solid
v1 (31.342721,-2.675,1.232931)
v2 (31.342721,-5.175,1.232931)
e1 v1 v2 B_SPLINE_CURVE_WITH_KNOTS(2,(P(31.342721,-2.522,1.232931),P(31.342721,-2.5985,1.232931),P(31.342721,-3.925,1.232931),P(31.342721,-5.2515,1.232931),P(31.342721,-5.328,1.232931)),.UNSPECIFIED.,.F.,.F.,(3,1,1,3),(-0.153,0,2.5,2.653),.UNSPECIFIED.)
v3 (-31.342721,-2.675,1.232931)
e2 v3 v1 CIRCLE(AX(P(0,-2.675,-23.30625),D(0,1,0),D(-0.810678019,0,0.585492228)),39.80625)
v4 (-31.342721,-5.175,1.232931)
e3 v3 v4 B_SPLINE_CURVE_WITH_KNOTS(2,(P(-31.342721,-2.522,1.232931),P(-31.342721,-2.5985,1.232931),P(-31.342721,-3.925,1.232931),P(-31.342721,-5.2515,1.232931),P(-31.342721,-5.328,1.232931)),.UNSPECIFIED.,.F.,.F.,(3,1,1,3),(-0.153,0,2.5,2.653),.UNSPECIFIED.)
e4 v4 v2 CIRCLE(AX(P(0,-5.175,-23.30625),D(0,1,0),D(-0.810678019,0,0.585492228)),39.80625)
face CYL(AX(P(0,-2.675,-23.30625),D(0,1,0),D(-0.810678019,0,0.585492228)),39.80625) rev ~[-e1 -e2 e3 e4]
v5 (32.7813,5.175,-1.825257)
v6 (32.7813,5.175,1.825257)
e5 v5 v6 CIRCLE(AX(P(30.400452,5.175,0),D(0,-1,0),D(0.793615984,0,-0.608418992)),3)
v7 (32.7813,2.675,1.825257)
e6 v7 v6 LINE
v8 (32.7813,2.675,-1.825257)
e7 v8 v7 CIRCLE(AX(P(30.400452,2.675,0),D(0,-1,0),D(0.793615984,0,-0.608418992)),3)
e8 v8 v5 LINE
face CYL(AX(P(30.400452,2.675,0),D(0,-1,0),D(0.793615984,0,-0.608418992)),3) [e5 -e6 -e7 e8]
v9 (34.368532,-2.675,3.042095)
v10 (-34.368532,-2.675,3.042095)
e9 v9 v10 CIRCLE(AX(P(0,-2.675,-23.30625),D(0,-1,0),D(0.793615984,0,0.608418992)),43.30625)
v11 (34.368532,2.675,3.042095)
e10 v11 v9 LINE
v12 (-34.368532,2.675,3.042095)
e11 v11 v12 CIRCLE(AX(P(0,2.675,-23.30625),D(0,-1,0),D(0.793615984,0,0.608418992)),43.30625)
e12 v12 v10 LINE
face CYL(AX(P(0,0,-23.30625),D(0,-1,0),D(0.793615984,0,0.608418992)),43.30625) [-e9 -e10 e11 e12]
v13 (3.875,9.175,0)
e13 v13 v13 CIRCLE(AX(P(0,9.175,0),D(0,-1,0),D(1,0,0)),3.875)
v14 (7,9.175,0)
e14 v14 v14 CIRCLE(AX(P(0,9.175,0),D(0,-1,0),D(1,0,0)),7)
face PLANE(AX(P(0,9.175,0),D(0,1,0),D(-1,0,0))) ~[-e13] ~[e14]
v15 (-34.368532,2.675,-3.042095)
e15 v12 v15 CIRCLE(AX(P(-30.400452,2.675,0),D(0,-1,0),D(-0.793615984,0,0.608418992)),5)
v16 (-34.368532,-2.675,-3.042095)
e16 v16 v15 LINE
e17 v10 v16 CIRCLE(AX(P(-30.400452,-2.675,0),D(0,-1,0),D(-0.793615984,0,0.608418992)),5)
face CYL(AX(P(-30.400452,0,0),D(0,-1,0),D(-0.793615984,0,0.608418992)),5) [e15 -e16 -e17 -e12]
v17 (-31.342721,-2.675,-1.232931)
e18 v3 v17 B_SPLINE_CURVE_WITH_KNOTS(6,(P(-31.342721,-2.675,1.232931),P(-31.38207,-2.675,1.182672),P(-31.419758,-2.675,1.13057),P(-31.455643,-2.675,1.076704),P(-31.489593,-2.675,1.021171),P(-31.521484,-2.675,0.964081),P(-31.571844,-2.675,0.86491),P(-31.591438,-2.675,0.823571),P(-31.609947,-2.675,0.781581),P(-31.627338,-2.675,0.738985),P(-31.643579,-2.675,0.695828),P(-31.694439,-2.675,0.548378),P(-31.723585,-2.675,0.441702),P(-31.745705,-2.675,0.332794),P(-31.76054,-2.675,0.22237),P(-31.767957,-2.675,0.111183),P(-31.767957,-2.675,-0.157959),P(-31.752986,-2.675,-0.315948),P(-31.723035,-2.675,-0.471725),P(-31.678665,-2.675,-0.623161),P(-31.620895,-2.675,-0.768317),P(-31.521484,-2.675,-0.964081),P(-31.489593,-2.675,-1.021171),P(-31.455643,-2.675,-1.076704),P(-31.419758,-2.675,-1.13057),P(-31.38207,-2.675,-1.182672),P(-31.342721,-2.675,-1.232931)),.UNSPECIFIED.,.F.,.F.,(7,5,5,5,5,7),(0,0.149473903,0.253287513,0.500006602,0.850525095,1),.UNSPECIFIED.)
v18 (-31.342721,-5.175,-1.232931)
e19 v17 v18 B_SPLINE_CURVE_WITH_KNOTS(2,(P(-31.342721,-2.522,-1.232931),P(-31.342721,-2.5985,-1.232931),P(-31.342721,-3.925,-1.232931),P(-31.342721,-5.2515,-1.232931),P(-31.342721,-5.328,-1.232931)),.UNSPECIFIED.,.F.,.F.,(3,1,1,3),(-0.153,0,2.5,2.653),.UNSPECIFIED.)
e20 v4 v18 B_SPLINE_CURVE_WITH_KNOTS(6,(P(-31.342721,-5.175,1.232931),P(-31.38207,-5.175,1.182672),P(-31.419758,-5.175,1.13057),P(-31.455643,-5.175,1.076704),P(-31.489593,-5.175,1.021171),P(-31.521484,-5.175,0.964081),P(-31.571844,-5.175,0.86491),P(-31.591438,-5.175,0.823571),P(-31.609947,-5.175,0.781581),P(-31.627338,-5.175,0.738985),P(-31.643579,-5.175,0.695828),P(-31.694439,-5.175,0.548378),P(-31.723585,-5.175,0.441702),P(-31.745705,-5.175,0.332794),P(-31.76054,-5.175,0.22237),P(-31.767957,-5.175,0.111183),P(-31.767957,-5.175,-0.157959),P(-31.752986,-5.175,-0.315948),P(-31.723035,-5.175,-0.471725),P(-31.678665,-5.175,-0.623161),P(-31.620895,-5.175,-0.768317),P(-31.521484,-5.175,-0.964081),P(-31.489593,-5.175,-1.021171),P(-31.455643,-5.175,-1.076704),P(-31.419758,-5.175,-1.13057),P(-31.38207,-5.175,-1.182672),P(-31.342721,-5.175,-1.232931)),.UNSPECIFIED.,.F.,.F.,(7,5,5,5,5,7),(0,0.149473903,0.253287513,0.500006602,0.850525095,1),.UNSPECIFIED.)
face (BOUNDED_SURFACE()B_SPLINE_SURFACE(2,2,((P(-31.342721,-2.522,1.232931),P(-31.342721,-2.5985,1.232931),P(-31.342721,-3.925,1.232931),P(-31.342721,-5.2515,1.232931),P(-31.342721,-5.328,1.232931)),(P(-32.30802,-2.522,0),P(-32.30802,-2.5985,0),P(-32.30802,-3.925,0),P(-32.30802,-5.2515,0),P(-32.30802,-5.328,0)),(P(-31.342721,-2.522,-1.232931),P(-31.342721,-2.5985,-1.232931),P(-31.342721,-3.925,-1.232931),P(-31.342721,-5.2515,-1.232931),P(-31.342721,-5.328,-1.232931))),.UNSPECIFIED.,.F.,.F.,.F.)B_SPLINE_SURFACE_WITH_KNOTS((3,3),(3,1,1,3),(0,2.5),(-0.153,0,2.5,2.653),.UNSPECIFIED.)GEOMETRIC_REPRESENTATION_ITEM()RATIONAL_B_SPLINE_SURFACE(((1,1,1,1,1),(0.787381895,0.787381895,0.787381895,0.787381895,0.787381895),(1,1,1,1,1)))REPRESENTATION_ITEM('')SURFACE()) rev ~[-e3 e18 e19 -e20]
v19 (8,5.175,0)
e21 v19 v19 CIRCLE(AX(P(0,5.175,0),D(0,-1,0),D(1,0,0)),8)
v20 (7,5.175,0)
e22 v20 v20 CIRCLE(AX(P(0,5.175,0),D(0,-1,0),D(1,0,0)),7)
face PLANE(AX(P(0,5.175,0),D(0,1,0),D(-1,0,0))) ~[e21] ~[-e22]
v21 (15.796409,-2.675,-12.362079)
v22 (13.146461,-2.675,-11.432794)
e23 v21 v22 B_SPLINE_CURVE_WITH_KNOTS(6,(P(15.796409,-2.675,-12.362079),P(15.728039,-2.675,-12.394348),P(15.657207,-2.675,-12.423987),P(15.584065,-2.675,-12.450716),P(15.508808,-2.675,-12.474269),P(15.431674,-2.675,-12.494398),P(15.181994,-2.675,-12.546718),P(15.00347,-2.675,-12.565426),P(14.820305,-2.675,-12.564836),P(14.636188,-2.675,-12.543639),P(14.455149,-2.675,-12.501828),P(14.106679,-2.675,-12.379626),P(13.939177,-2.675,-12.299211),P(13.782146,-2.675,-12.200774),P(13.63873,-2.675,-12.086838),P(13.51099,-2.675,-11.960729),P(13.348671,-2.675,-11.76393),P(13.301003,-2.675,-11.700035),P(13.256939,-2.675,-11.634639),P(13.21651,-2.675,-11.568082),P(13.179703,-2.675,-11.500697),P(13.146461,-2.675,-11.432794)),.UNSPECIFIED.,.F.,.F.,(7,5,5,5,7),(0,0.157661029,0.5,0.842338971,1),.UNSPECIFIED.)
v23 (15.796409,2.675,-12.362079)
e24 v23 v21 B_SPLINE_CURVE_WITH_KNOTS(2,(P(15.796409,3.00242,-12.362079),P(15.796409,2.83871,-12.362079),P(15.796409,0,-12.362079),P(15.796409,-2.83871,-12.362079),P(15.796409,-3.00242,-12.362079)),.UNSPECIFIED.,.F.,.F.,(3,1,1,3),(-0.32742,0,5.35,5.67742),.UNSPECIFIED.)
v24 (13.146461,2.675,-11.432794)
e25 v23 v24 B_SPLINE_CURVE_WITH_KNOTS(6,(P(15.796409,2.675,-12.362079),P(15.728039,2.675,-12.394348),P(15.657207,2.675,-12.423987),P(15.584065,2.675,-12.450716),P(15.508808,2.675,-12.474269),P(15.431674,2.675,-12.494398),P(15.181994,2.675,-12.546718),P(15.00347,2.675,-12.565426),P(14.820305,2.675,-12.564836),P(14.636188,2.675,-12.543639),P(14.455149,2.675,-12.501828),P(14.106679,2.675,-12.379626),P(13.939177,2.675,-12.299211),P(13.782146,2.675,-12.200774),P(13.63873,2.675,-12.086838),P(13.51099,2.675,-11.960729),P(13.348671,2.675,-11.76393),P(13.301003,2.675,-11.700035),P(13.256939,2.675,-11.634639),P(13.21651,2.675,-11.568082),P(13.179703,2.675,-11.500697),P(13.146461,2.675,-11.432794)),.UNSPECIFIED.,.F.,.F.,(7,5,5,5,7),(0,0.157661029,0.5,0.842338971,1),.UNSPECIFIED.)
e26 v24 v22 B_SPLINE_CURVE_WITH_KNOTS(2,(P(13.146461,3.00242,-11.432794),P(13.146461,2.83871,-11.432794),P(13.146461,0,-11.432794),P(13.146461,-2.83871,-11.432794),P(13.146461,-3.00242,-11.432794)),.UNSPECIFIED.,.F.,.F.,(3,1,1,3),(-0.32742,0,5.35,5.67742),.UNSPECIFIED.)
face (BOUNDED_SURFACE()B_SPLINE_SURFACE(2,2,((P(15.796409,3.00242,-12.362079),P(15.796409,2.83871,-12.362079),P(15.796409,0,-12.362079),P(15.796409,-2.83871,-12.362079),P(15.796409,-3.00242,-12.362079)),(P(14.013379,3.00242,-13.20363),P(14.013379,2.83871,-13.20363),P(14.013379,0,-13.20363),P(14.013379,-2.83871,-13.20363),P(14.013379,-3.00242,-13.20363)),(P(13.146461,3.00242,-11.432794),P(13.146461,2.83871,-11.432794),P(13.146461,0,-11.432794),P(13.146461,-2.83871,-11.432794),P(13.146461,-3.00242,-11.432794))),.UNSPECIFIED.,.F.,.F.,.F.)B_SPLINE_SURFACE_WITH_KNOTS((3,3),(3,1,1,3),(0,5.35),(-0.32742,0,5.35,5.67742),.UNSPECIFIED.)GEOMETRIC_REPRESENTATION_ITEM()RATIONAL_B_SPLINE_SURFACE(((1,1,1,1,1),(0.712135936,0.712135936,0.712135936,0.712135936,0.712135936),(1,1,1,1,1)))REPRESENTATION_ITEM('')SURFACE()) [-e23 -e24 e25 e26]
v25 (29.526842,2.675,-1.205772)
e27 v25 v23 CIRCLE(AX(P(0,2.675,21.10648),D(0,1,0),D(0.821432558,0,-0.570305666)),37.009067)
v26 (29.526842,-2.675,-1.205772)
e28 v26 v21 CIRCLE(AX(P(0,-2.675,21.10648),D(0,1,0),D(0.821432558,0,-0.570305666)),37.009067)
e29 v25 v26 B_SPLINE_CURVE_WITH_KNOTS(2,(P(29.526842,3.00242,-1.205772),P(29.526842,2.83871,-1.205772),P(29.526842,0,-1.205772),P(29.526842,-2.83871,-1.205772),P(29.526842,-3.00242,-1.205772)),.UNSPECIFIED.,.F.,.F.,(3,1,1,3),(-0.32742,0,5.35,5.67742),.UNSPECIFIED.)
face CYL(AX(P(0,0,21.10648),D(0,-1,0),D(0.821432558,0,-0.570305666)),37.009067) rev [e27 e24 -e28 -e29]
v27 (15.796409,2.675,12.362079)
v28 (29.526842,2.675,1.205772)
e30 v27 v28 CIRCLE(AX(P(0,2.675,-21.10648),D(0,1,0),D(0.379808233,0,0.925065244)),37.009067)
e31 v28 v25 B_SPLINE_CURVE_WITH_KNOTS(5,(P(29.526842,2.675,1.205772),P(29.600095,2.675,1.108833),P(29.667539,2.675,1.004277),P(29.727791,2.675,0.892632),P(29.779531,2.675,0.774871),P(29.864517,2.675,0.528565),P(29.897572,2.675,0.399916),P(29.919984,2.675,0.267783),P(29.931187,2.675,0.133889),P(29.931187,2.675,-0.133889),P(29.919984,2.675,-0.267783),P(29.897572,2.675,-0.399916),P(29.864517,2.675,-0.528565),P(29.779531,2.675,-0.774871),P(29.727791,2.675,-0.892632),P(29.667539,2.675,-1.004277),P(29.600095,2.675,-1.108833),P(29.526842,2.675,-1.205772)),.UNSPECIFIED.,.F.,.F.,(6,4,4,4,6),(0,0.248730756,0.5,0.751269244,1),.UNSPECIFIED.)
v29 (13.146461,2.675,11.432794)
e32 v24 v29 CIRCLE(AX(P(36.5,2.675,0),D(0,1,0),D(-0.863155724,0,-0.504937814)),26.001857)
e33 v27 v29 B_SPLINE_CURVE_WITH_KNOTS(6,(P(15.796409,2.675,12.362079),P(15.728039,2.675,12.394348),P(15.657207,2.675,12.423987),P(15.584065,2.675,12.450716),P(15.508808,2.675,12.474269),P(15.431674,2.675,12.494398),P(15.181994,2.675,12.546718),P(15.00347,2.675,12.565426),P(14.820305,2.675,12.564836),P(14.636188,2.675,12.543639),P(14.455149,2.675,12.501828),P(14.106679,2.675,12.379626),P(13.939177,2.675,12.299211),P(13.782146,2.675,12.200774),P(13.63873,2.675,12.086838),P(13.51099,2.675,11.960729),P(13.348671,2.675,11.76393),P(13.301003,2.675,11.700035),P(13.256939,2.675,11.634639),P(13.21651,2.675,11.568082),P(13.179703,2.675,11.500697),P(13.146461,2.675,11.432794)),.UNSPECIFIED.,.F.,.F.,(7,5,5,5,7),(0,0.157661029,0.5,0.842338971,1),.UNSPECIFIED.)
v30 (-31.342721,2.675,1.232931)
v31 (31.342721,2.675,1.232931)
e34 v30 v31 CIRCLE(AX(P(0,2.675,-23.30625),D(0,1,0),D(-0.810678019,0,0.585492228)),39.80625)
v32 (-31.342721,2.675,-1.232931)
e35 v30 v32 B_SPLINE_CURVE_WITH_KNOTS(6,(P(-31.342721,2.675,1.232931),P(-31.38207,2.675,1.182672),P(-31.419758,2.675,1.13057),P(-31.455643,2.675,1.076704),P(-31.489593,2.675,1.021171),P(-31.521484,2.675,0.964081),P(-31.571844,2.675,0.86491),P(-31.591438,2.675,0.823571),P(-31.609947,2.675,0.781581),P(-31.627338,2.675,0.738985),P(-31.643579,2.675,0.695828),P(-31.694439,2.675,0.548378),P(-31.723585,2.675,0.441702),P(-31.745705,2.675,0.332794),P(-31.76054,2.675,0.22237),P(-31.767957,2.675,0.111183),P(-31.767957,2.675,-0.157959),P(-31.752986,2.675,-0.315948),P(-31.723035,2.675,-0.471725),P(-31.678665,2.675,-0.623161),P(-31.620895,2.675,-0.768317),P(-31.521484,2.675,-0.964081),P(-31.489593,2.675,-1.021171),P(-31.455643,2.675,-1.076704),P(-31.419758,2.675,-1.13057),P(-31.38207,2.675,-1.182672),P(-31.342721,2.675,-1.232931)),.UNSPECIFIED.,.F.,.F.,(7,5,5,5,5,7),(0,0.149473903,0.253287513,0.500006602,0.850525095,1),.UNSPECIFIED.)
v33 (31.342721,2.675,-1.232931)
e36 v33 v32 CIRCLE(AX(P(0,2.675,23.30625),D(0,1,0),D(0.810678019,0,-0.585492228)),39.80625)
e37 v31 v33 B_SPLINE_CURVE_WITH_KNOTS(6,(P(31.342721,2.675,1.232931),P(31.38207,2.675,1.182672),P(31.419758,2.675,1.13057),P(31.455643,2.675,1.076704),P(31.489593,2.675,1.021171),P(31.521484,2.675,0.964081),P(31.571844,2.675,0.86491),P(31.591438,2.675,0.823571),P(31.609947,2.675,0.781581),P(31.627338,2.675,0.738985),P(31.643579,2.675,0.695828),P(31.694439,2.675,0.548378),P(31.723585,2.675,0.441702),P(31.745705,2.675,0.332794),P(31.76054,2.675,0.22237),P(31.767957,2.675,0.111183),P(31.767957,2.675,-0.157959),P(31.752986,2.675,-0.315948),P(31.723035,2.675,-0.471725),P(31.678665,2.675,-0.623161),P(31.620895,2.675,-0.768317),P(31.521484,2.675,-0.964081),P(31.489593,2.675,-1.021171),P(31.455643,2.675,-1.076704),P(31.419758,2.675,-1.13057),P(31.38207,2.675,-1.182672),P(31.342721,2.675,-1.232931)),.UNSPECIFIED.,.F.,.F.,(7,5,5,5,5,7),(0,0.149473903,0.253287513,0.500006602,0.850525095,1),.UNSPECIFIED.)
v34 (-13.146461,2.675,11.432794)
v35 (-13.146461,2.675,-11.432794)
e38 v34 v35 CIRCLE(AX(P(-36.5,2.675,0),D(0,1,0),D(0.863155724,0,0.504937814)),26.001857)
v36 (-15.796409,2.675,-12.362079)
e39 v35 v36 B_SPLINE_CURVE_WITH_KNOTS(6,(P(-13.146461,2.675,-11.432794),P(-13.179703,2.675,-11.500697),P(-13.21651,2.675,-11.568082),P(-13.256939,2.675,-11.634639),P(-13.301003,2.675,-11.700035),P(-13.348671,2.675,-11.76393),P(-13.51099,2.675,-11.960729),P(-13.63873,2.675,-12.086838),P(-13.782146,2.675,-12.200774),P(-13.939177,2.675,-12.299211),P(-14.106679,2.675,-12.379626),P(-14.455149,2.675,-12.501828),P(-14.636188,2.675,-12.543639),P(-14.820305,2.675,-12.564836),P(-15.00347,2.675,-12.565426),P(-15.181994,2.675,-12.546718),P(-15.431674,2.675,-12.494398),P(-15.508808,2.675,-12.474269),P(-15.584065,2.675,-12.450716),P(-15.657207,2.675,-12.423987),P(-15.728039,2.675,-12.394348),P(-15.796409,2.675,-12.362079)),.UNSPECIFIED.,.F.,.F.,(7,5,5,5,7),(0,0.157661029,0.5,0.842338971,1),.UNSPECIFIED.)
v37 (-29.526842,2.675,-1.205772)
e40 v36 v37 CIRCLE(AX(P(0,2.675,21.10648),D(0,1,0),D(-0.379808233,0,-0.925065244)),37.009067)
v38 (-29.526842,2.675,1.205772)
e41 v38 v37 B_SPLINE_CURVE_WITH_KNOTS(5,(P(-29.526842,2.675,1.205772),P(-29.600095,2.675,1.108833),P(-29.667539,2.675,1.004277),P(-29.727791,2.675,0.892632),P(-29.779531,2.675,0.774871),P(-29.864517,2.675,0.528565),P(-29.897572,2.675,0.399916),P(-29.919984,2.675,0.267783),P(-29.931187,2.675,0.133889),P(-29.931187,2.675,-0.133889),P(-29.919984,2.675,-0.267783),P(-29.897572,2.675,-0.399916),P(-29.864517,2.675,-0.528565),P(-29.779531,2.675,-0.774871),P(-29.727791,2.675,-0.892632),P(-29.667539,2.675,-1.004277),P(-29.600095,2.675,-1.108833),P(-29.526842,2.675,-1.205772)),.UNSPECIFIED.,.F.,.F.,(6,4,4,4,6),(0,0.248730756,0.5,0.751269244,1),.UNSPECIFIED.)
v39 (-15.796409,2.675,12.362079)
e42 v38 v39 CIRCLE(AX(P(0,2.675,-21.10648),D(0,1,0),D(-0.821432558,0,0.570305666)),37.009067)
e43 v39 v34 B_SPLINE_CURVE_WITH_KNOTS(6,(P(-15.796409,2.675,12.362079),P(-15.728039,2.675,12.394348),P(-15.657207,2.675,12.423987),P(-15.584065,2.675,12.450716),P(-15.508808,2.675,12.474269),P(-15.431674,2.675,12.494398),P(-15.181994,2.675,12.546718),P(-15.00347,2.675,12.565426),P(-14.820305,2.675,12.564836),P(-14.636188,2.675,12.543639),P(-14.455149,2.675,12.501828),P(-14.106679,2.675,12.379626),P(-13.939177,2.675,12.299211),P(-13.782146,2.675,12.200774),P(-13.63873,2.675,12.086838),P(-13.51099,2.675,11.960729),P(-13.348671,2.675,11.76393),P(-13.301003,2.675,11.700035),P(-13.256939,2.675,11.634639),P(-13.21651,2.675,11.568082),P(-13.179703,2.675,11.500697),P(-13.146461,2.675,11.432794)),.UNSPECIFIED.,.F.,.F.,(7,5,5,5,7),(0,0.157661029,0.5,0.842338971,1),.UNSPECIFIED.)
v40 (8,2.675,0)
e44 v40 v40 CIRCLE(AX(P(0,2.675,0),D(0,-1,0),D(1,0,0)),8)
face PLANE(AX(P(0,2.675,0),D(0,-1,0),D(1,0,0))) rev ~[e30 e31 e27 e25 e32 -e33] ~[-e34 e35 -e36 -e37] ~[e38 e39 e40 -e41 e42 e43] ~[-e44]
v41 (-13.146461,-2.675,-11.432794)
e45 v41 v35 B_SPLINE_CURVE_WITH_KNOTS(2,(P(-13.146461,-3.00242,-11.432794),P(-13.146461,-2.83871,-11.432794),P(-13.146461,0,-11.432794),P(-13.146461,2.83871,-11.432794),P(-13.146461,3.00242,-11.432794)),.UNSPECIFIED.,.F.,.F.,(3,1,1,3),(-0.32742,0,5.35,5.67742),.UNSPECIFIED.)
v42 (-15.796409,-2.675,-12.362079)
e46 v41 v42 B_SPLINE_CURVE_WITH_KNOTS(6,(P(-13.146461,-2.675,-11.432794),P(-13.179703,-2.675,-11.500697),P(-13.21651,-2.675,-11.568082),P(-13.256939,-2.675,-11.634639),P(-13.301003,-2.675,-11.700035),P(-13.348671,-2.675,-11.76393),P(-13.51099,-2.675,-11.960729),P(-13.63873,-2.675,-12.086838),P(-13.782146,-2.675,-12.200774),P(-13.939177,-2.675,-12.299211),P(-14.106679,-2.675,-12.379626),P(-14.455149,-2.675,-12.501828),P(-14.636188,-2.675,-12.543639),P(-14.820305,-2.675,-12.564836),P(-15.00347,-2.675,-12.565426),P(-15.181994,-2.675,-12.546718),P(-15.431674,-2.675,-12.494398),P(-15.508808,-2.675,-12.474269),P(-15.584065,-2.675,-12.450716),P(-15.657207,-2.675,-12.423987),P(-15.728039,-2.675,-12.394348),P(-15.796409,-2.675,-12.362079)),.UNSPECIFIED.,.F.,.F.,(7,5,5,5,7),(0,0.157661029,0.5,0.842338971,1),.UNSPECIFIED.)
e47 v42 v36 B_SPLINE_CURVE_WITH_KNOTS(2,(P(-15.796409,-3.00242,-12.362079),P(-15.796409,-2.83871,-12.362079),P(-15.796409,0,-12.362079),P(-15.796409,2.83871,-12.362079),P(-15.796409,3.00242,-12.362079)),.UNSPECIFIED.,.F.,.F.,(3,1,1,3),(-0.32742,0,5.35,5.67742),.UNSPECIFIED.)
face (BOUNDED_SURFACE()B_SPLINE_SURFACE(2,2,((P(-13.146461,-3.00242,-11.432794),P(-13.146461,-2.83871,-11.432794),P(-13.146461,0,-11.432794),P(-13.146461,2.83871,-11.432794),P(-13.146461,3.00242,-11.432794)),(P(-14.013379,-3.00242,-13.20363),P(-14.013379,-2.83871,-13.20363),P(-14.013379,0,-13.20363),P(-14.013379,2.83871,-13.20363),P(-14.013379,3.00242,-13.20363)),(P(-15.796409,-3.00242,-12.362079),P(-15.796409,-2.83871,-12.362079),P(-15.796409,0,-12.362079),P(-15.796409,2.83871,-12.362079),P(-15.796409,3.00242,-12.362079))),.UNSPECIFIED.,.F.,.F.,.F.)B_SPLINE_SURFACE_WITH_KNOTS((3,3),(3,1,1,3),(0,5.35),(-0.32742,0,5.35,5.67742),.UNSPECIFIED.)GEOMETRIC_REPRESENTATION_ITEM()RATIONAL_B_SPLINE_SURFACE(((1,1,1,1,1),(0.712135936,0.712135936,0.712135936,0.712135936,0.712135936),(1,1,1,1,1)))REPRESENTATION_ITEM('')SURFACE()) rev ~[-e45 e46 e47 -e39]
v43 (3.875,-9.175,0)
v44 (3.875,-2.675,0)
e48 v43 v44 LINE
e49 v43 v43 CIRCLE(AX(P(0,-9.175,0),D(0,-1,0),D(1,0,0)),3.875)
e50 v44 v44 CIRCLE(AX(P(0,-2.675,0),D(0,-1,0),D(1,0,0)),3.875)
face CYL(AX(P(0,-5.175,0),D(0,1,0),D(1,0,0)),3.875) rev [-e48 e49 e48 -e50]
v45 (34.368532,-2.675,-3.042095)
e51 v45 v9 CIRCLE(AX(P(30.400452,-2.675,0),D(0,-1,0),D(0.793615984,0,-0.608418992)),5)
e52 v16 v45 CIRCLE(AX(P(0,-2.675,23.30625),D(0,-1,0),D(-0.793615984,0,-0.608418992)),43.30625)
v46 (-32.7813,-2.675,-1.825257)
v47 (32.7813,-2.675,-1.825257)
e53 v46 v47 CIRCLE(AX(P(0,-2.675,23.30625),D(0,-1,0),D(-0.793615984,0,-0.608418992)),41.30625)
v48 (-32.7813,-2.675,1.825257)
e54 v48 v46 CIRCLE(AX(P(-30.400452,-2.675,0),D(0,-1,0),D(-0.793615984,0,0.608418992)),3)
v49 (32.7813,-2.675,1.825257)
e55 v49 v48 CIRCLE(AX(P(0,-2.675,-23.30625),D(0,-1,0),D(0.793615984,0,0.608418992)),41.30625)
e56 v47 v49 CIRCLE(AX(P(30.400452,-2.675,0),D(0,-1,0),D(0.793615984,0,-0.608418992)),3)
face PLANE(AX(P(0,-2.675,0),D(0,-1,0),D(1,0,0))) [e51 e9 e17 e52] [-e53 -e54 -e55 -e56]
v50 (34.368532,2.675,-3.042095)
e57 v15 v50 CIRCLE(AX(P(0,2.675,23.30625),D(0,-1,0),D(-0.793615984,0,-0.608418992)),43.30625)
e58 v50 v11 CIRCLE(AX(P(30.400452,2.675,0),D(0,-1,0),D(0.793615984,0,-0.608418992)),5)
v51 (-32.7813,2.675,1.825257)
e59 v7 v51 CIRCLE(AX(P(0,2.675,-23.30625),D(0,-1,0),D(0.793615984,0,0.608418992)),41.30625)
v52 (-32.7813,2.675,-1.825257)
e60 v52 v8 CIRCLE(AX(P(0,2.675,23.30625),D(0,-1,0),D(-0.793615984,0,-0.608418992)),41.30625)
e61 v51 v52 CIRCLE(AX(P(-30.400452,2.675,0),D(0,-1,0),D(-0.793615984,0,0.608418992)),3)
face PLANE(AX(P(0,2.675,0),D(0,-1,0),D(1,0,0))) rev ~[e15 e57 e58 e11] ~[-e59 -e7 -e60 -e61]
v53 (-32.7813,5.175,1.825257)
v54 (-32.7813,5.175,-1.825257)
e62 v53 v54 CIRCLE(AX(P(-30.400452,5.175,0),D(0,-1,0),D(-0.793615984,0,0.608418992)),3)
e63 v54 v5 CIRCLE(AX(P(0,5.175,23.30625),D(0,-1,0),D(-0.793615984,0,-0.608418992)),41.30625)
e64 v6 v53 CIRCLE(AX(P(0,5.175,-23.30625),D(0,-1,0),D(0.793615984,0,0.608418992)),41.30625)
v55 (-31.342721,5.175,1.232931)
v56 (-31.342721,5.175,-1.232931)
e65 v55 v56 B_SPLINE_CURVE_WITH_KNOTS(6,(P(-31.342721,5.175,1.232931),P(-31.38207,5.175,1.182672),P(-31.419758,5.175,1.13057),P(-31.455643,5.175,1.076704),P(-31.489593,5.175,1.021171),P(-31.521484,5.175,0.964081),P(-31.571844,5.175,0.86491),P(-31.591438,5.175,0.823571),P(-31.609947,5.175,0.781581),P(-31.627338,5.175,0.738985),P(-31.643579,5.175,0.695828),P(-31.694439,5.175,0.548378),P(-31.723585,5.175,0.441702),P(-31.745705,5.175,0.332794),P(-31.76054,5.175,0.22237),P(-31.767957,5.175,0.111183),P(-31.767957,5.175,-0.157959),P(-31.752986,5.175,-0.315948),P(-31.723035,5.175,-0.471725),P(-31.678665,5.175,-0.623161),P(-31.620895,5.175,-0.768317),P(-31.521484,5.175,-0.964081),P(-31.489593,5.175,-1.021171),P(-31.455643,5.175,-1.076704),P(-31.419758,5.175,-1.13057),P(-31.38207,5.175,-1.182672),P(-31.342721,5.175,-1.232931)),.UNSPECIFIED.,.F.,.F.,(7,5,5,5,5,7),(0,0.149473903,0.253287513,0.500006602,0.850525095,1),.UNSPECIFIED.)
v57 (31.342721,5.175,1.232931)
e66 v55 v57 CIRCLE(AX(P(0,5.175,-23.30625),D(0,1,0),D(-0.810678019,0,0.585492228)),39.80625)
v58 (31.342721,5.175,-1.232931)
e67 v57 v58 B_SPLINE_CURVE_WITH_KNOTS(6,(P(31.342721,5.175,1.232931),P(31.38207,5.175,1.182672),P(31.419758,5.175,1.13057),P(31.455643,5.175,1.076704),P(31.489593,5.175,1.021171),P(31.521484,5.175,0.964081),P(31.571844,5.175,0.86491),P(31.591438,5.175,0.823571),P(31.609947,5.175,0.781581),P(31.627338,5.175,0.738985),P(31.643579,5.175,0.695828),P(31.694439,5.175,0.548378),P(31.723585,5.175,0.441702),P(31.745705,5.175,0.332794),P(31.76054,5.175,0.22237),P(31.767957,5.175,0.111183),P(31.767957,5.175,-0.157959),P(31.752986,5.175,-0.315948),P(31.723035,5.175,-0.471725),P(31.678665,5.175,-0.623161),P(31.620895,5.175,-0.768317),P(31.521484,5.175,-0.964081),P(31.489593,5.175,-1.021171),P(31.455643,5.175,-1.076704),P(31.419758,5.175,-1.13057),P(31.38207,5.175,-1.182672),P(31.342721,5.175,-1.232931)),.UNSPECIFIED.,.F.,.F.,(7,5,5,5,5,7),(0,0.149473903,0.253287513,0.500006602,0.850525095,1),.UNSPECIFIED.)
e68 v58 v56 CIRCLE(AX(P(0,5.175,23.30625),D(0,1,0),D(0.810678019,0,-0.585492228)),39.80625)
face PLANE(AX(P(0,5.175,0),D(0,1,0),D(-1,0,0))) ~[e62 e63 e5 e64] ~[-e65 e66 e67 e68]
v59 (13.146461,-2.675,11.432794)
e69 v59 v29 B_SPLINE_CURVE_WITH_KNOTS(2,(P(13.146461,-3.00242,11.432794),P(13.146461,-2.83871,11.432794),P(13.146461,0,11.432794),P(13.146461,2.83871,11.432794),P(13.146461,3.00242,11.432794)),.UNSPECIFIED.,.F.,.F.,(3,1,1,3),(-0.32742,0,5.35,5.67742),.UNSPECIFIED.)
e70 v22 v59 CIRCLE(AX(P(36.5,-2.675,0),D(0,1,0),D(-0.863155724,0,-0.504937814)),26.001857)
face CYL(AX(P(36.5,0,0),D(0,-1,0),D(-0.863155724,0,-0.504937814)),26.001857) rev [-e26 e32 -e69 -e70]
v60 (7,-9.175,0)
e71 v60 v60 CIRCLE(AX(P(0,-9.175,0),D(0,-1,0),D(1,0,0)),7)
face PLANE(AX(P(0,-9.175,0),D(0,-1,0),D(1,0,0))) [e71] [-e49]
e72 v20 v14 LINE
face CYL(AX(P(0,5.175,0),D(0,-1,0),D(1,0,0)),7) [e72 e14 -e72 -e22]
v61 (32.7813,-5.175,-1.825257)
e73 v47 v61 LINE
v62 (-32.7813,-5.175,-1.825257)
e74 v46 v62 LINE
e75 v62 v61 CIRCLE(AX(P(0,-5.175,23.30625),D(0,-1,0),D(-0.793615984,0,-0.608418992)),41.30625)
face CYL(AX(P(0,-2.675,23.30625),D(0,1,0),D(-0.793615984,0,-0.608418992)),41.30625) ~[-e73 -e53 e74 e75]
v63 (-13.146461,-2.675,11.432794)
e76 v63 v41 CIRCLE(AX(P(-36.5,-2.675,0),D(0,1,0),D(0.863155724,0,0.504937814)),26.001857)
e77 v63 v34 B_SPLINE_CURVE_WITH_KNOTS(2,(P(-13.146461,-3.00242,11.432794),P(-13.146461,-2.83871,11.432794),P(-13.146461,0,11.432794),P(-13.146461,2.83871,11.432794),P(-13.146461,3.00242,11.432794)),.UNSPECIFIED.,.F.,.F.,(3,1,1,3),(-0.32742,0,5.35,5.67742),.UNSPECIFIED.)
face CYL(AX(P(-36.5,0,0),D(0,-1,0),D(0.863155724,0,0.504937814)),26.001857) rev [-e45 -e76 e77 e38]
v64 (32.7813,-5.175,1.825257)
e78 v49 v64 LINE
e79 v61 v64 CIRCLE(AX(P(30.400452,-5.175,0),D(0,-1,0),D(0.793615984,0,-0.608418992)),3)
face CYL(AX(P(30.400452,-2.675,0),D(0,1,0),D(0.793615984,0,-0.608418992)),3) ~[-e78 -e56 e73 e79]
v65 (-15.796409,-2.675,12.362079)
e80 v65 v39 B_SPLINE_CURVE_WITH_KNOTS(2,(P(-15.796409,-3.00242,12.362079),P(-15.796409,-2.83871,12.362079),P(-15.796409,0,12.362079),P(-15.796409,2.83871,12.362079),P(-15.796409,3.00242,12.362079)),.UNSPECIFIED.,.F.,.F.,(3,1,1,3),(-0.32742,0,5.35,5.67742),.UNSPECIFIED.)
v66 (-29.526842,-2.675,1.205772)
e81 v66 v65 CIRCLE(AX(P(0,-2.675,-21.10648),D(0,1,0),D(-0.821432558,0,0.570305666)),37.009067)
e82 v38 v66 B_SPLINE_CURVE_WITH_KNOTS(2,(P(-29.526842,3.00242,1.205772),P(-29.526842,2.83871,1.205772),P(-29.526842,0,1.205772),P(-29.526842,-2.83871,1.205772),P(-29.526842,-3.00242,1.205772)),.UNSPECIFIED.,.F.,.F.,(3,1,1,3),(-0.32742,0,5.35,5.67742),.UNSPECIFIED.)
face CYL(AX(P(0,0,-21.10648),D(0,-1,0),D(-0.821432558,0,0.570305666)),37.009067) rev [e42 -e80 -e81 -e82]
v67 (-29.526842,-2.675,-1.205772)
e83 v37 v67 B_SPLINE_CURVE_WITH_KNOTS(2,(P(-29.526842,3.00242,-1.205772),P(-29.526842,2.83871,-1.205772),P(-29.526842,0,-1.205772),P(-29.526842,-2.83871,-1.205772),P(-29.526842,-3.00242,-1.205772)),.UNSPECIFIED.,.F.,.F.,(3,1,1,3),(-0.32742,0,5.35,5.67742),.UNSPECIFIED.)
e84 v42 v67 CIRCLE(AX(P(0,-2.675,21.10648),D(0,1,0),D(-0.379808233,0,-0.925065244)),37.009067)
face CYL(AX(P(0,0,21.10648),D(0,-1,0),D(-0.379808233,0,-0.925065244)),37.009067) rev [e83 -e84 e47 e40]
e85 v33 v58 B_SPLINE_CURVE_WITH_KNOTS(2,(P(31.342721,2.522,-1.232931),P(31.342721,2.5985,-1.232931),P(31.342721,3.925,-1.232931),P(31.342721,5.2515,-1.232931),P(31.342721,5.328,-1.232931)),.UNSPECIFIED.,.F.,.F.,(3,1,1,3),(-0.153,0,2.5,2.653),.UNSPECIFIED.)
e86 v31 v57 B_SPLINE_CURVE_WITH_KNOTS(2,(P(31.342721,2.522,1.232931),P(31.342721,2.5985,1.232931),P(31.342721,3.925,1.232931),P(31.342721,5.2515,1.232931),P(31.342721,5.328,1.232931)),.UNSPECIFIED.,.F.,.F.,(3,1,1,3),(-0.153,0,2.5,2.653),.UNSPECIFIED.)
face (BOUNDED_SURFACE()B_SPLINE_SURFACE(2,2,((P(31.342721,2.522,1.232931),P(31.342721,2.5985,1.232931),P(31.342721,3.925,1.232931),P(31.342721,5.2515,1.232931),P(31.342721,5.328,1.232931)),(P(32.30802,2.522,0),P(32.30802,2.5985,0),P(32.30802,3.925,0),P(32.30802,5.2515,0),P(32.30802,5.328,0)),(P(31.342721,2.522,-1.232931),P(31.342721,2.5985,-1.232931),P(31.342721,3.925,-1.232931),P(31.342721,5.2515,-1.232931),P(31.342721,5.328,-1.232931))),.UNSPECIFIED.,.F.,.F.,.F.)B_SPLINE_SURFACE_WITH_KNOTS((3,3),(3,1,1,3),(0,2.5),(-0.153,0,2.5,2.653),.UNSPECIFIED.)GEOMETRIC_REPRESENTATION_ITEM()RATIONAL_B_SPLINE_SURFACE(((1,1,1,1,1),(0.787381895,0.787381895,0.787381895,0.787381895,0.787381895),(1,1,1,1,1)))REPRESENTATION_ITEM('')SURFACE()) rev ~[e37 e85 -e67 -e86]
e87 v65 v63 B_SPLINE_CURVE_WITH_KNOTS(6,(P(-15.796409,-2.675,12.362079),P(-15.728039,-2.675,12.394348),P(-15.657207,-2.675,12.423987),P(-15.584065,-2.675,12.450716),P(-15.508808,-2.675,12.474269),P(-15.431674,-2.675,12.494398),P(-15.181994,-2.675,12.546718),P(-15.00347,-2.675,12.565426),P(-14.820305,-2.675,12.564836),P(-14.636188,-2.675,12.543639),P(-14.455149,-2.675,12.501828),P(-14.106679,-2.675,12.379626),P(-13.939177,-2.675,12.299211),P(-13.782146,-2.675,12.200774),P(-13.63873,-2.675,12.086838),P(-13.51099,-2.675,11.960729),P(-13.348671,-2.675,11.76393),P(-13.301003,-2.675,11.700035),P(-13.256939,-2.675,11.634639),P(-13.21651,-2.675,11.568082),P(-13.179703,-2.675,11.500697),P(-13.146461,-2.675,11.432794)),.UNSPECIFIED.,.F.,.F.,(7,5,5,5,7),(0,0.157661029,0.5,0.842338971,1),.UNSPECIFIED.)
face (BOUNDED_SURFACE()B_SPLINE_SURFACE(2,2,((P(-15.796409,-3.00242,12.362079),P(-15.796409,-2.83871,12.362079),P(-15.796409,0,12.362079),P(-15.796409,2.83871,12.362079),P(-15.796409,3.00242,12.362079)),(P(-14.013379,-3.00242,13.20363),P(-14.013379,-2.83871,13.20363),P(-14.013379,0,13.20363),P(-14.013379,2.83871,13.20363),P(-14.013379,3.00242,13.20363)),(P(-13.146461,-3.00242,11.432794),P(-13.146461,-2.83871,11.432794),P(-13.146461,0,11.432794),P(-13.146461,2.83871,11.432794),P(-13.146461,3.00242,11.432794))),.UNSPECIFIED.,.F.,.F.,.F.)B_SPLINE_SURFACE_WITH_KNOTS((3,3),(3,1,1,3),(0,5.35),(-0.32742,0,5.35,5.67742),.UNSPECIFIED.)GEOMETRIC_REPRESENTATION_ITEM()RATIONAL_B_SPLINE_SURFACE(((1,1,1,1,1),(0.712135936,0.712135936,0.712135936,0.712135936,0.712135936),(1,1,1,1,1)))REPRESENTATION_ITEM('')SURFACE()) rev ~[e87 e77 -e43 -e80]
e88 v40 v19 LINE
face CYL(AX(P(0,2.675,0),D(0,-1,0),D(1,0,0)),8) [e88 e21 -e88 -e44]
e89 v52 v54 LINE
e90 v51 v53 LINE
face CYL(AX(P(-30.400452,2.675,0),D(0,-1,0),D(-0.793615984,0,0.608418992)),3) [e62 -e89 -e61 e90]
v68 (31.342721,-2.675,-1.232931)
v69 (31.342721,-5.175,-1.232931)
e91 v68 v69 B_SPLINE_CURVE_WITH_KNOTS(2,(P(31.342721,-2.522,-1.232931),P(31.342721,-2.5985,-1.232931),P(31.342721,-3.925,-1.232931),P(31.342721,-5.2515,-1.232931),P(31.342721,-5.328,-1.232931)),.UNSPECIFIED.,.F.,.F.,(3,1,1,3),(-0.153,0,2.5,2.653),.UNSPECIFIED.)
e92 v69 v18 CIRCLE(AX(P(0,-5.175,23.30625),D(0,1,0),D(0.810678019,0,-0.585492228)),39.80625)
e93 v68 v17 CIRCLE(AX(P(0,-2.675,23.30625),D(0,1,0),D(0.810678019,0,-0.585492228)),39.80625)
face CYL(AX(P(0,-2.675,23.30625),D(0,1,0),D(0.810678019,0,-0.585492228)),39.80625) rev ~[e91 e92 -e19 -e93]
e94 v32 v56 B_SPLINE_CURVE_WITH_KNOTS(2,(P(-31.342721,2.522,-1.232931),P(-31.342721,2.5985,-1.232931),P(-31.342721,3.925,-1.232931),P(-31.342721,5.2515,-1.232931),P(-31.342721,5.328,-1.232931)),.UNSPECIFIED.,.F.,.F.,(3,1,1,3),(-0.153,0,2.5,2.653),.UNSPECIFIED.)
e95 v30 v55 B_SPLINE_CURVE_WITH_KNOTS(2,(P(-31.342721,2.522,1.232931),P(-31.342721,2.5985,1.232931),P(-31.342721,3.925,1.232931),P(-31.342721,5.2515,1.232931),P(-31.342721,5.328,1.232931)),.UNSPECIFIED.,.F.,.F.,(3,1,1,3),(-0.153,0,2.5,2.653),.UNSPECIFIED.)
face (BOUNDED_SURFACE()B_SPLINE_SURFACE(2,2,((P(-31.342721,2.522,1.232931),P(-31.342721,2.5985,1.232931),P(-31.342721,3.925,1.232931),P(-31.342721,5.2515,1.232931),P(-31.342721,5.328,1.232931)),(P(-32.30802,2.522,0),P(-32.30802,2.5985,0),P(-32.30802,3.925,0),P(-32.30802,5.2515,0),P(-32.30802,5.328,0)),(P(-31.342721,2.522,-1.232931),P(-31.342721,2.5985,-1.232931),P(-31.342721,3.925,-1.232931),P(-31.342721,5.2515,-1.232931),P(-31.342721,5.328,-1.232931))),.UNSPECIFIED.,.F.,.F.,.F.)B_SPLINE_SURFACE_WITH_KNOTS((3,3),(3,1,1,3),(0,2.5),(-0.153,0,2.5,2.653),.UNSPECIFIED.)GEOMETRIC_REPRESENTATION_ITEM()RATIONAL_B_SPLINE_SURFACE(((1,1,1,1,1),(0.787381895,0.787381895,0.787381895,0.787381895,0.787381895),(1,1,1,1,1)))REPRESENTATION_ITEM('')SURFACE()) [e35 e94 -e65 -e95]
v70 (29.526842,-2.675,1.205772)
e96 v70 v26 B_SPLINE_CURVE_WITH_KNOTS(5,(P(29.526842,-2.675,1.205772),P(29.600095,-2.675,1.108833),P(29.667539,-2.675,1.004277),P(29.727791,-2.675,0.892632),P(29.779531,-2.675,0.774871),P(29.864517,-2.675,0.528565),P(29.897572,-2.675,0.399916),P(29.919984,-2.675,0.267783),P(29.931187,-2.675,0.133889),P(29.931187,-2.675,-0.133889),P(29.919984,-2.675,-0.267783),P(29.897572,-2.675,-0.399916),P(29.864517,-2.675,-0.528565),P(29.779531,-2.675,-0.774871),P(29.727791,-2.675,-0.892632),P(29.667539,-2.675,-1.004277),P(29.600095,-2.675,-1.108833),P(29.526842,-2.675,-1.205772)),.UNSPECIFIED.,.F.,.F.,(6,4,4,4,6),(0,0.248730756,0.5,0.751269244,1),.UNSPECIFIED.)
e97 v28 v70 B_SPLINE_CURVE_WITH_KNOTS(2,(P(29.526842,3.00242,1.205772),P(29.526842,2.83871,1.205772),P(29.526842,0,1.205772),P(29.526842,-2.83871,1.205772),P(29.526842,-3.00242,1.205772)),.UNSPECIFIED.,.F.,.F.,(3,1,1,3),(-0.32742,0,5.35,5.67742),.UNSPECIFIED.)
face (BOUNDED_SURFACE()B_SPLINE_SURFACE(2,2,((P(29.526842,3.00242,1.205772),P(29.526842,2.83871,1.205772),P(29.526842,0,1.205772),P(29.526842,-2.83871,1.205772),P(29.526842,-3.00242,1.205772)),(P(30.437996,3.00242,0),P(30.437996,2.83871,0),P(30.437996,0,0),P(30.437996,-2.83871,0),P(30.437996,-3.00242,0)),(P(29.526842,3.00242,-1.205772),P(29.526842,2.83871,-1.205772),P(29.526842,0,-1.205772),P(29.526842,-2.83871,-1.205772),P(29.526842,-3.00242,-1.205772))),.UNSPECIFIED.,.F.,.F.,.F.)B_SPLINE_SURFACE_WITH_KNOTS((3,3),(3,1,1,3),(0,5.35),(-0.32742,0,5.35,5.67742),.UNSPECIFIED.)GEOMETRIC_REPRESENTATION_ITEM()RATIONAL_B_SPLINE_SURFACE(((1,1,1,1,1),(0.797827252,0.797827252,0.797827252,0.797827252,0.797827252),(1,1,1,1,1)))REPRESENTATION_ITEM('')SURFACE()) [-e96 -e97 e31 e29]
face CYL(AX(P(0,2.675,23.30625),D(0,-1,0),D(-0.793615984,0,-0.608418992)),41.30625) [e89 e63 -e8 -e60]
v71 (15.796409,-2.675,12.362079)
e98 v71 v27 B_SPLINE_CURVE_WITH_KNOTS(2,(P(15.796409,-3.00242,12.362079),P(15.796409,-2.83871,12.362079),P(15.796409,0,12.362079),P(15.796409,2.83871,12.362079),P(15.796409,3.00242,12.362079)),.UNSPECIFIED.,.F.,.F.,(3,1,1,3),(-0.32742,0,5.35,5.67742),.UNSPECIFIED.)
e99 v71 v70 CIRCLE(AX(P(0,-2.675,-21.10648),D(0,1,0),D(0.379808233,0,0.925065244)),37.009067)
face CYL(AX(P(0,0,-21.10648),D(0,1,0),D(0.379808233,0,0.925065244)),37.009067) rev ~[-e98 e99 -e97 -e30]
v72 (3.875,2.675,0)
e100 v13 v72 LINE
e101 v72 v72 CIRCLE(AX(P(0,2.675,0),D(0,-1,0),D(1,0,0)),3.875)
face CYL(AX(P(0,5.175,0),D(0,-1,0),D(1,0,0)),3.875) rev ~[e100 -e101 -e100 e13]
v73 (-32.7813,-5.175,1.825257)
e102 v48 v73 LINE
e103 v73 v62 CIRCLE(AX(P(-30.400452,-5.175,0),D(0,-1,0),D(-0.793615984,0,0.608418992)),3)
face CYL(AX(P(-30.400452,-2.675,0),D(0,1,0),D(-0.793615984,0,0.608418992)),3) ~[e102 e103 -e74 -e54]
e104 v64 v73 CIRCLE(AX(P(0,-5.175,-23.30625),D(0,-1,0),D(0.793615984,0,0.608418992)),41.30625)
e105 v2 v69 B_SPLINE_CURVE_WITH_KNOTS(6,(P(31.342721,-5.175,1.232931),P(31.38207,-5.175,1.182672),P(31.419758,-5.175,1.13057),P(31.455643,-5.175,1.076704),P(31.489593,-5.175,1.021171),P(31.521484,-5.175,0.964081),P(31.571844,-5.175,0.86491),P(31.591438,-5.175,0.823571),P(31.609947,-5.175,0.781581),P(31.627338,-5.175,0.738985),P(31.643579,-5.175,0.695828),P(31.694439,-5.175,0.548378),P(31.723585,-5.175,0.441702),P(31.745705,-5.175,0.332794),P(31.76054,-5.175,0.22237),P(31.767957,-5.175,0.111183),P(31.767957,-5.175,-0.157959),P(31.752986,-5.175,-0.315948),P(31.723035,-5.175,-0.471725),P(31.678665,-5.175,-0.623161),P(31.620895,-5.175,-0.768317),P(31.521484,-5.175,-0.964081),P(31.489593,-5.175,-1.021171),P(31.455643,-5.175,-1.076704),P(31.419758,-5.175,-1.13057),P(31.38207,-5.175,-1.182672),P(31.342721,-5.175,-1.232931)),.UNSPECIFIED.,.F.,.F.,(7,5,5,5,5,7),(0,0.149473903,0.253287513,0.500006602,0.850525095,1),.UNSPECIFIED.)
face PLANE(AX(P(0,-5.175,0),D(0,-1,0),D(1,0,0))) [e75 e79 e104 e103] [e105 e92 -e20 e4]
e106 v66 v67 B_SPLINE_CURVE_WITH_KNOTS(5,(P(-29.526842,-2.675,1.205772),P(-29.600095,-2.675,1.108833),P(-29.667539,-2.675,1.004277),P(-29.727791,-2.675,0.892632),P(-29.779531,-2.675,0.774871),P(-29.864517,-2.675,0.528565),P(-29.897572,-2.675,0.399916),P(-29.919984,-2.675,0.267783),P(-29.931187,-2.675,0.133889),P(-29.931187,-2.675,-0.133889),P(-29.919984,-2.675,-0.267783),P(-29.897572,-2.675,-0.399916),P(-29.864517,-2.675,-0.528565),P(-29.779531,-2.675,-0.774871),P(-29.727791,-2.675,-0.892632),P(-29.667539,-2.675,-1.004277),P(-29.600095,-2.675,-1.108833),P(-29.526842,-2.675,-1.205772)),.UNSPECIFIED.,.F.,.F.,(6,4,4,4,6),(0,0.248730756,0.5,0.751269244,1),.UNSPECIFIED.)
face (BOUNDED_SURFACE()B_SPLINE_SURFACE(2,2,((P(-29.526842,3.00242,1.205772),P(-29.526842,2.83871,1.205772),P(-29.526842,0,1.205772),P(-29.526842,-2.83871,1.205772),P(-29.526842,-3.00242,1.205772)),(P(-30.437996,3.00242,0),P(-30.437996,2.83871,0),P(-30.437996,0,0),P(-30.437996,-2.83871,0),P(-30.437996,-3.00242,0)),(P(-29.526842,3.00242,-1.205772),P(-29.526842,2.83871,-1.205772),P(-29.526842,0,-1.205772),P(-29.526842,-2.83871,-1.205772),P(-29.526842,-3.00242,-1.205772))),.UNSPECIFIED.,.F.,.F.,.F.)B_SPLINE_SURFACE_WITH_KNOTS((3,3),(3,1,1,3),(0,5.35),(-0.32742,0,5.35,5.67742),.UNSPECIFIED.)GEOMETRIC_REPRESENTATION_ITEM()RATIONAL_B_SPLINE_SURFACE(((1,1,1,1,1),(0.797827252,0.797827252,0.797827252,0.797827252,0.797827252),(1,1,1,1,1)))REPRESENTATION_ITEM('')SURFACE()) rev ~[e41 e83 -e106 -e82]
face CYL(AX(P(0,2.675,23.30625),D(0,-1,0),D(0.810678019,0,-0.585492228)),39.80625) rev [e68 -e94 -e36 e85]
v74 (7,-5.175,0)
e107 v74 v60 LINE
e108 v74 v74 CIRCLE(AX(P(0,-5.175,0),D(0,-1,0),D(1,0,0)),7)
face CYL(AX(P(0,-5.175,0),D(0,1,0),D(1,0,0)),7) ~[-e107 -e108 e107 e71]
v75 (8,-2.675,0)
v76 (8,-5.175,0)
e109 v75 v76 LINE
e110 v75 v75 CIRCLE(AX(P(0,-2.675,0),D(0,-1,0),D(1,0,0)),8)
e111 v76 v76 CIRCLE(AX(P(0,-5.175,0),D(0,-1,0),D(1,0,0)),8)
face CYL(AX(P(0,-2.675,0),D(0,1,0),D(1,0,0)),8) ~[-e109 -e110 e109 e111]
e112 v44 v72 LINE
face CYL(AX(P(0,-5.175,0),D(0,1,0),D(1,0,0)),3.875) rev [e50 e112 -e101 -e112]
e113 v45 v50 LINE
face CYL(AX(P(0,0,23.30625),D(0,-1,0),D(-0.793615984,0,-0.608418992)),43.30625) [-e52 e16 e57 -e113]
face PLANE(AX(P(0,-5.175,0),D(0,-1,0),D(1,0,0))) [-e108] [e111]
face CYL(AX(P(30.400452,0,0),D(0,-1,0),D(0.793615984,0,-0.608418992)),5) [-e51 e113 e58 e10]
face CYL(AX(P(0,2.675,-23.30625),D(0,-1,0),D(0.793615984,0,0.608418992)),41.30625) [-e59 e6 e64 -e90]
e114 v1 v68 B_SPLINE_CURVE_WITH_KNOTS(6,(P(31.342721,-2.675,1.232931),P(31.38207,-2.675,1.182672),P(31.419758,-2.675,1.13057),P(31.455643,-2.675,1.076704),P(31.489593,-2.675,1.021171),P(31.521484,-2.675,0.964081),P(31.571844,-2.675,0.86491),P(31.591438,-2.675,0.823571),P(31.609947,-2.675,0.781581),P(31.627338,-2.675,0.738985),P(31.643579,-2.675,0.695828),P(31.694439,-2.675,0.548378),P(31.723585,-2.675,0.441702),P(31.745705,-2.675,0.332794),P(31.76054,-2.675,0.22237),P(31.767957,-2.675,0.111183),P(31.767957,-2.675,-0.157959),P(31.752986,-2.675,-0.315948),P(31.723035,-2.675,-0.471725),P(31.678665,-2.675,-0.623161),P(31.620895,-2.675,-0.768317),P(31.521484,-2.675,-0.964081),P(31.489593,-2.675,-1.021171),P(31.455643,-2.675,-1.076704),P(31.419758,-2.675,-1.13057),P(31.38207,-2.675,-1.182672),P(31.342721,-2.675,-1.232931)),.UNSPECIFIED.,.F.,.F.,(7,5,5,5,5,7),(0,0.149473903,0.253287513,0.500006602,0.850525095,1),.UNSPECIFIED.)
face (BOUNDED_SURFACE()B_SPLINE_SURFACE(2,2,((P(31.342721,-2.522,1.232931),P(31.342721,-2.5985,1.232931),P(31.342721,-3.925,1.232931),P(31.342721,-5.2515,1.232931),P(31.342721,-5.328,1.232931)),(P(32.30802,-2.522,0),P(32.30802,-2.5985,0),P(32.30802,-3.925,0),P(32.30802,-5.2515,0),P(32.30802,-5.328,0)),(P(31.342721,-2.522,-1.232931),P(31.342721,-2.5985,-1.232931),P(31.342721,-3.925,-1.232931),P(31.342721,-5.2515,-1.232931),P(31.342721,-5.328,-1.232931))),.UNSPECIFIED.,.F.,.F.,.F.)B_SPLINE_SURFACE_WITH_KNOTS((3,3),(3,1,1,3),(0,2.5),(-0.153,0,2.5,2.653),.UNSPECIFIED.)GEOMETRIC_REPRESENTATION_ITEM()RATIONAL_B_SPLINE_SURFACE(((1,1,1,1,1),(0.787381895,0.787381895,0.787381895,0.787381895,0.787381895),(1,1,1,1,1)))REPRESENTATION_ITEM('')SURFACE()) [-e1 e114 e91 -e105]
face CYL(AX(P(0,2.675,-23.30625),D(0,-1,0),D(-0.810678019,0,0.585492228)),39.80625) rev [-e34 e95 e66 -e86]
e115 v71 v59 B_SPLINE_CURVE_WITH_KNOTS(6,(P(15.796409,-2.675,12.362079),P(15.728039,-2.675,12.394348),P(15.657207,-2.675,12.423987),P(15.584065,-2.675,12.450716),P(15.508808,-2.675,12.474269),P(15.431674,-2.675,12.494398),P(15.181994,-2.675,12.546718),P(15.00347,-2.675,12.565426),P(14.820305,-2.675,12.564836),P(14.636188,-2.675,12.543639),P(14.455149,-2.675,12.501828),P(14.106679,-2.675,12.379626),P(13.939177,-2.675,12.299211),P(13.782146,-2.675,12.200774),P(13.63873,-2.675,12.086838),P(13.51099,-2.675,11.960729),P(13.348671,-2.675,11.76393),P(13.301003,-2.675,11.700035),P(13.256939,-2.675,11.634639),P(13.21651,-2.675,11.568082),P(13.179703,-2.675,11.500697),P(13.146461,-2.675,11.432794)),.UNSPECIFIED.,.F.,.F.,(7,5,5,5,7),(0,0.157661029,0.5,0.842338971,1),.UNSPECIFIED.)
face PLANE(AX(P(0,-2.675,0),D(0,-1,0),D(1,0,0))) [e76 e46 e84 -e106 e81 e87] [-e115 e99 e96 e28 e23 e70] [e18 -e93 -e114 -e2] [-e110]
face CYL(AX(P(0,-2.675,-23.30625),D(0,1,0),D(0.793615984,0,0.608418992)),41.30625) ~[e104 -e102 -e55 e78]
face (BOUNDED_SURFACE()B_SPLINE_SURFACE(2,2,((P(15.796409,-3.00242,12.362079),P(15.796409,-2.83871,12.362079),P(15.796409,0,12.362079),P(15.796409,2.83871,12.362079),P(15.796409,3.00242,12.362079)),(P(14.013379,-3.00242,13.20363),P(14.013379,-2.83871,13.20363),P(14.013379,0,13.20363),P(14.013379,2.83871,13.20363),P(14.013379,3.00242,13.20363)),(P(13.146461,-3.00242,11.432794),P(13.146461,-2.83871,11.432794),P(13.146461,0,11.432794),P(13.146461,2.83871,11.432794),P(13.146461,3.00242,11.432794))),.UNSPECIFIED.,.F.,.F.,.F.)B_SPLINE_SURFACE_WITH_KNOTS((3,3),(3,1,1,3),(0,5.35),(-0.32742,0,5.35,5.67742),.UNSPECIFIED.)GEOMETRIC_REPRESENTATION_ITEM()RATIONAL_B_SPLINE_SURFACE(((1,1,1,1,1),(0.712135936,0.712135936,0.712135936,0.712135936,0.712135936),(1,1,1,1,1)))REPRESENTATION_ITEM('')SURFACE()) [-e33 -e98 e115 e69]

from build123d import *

# Parameters (mm, degrees)
F0_R     = 3.875
F1_DEPTH = 2.675
F2_R     = 2
F3_R     = 8
F3_R_2   = 3.875
F4_DEPTH = 2.5
F5_R     = 2
F6_R     = 7
F6_R_2   = 3.875
F7_DEPTH = 4


with BuildPart() as f1:
    # F0 (on Front) → F1 (new body, symmetric)
    with BuildSketch(Plane.XZ):
        with BuildLine():
            ThreePointArc((34.3685322209, -3.0420949584), (35.4004522993, 0), (34.3685322209, 3.0420949584))
            ThreePointArc((34.3685322209, 3.0420949584), (0, 20), (-34.3685322209, 3.0420949584))
            ThreePointArc((-34.3685322209, 3.0420949584), (-35.4004522993, 0), (-34.3685322209, -3.0420949584))
            ThreePointArc((-34.3685322209, -3.0420949584), (0, -20), (34.3685322209, -3.0420949584))
        make_face()
        with BuildLine():
            ThreePointArc((-30.4004522993, 0), (-23.1775008297, 7.7461532708), (-14.0563482176, 13.129320875))
            ThreePointArc((-14.0563482176, 13.129320875), (-10.4981429131, 0), (-14.0563482176, -13.129320875))
            ThreePointArc((-14.0563482176, -13.129320875), (-23.1775008297, -7.7461532708), (-30.4004522993, 0))
        make_face(mode=Mode.SUBTRACT)
        Circle(F0_R, mode=Mode.SUBTRACT)
        with BuildLine():
            ThreePointArc((14.0563482176, 13.129320875), (23.1775008297, 7.7461532708), (30.4004522993, 0))
            ThreePointArc((30.4004522993, 0), (23.1775008297, -7.7461532708), (14.0563482176, -13.129320875))
            ThreePointArc((14.0563482176, -13.129320875), (10.4981429131, 0), (14.0563482176, 13.129320875))
        make_face(mode=Mode.SUBTRACT)
    extrude(amount=F1_DEPTH, both=True)

    # F2
    f2_edges = [f1.edges().sort_by_distance(p)[0] for p in [
        (-14.056348, 0, 13.129321),
        (-30.400452, 0, 0),
        (-14.056348, 0, -13.129321),
        (14.056348, 0, 13.129321),
        (30.400452, 0, 0),
        (14.056348, 0, -13.129321),
    ]]
    fillet(f2_edges, radius=F2_R)

    # F3 (on face) → F4 (join)
    with BuildSketch(Plane.XZ.offset(2.675)):
        with BuildLine():
            ThreePointArc((32.7813002522, -1.825256975), (33.4004522993, 0), (32.7813002522, 1.825256975))
            ThreePointArc((32.7813002522, 1.825256975), (0, 18), (-32.7813002522, 1.825256975))
            ThreePointArc((-32.7813002522, 1.825256975), (-33.4004522993, 0), (-32.7813002522, -1.825256975))
            ThreePointArc((-32.7813002522, -1.825256975), (0, -18), (32.7813002522, -1.825256975))
        make_face()
        with BuildLine():
            ThreePointArc((-32.2700519058, 0), (0, 16.5), (32.2700519058, 0))
            ThreePointArc((32.2700519058, 0), (0, -16.5), (-32.2700519058, 0))
        make_face(mode=Mode.SUBTRACT)
        Circle(F3_R)
        Circle(F3_R_2, mode=Mode.SUBTRACT)
    extrude(amount=F4_DEPTH)

    # F5
    f5_edges = [f1.edges().sort_by_distance(p)[0] for p in [
        (-32.270052, -3.925, 0),
        (32.270052, -3.925, 0),
    ]]
    fillet(f5_edges, radius=F5_R)

    # F6 (on face) → F7 (join)
    with BuildSketch(Plane.XZ.offset(5.175)):
        Circle(F6_R)
        Circle(F6_R_2, mode=Mode.SUBTRACT)
    extrude(amount=F7_DEPTH)

    # F8: F1 across plane


with BuildPart() as f1_1:
    add(f1.part)
    add(f1.part.mirror(Plane.XZ))


solid = f1_1.part
